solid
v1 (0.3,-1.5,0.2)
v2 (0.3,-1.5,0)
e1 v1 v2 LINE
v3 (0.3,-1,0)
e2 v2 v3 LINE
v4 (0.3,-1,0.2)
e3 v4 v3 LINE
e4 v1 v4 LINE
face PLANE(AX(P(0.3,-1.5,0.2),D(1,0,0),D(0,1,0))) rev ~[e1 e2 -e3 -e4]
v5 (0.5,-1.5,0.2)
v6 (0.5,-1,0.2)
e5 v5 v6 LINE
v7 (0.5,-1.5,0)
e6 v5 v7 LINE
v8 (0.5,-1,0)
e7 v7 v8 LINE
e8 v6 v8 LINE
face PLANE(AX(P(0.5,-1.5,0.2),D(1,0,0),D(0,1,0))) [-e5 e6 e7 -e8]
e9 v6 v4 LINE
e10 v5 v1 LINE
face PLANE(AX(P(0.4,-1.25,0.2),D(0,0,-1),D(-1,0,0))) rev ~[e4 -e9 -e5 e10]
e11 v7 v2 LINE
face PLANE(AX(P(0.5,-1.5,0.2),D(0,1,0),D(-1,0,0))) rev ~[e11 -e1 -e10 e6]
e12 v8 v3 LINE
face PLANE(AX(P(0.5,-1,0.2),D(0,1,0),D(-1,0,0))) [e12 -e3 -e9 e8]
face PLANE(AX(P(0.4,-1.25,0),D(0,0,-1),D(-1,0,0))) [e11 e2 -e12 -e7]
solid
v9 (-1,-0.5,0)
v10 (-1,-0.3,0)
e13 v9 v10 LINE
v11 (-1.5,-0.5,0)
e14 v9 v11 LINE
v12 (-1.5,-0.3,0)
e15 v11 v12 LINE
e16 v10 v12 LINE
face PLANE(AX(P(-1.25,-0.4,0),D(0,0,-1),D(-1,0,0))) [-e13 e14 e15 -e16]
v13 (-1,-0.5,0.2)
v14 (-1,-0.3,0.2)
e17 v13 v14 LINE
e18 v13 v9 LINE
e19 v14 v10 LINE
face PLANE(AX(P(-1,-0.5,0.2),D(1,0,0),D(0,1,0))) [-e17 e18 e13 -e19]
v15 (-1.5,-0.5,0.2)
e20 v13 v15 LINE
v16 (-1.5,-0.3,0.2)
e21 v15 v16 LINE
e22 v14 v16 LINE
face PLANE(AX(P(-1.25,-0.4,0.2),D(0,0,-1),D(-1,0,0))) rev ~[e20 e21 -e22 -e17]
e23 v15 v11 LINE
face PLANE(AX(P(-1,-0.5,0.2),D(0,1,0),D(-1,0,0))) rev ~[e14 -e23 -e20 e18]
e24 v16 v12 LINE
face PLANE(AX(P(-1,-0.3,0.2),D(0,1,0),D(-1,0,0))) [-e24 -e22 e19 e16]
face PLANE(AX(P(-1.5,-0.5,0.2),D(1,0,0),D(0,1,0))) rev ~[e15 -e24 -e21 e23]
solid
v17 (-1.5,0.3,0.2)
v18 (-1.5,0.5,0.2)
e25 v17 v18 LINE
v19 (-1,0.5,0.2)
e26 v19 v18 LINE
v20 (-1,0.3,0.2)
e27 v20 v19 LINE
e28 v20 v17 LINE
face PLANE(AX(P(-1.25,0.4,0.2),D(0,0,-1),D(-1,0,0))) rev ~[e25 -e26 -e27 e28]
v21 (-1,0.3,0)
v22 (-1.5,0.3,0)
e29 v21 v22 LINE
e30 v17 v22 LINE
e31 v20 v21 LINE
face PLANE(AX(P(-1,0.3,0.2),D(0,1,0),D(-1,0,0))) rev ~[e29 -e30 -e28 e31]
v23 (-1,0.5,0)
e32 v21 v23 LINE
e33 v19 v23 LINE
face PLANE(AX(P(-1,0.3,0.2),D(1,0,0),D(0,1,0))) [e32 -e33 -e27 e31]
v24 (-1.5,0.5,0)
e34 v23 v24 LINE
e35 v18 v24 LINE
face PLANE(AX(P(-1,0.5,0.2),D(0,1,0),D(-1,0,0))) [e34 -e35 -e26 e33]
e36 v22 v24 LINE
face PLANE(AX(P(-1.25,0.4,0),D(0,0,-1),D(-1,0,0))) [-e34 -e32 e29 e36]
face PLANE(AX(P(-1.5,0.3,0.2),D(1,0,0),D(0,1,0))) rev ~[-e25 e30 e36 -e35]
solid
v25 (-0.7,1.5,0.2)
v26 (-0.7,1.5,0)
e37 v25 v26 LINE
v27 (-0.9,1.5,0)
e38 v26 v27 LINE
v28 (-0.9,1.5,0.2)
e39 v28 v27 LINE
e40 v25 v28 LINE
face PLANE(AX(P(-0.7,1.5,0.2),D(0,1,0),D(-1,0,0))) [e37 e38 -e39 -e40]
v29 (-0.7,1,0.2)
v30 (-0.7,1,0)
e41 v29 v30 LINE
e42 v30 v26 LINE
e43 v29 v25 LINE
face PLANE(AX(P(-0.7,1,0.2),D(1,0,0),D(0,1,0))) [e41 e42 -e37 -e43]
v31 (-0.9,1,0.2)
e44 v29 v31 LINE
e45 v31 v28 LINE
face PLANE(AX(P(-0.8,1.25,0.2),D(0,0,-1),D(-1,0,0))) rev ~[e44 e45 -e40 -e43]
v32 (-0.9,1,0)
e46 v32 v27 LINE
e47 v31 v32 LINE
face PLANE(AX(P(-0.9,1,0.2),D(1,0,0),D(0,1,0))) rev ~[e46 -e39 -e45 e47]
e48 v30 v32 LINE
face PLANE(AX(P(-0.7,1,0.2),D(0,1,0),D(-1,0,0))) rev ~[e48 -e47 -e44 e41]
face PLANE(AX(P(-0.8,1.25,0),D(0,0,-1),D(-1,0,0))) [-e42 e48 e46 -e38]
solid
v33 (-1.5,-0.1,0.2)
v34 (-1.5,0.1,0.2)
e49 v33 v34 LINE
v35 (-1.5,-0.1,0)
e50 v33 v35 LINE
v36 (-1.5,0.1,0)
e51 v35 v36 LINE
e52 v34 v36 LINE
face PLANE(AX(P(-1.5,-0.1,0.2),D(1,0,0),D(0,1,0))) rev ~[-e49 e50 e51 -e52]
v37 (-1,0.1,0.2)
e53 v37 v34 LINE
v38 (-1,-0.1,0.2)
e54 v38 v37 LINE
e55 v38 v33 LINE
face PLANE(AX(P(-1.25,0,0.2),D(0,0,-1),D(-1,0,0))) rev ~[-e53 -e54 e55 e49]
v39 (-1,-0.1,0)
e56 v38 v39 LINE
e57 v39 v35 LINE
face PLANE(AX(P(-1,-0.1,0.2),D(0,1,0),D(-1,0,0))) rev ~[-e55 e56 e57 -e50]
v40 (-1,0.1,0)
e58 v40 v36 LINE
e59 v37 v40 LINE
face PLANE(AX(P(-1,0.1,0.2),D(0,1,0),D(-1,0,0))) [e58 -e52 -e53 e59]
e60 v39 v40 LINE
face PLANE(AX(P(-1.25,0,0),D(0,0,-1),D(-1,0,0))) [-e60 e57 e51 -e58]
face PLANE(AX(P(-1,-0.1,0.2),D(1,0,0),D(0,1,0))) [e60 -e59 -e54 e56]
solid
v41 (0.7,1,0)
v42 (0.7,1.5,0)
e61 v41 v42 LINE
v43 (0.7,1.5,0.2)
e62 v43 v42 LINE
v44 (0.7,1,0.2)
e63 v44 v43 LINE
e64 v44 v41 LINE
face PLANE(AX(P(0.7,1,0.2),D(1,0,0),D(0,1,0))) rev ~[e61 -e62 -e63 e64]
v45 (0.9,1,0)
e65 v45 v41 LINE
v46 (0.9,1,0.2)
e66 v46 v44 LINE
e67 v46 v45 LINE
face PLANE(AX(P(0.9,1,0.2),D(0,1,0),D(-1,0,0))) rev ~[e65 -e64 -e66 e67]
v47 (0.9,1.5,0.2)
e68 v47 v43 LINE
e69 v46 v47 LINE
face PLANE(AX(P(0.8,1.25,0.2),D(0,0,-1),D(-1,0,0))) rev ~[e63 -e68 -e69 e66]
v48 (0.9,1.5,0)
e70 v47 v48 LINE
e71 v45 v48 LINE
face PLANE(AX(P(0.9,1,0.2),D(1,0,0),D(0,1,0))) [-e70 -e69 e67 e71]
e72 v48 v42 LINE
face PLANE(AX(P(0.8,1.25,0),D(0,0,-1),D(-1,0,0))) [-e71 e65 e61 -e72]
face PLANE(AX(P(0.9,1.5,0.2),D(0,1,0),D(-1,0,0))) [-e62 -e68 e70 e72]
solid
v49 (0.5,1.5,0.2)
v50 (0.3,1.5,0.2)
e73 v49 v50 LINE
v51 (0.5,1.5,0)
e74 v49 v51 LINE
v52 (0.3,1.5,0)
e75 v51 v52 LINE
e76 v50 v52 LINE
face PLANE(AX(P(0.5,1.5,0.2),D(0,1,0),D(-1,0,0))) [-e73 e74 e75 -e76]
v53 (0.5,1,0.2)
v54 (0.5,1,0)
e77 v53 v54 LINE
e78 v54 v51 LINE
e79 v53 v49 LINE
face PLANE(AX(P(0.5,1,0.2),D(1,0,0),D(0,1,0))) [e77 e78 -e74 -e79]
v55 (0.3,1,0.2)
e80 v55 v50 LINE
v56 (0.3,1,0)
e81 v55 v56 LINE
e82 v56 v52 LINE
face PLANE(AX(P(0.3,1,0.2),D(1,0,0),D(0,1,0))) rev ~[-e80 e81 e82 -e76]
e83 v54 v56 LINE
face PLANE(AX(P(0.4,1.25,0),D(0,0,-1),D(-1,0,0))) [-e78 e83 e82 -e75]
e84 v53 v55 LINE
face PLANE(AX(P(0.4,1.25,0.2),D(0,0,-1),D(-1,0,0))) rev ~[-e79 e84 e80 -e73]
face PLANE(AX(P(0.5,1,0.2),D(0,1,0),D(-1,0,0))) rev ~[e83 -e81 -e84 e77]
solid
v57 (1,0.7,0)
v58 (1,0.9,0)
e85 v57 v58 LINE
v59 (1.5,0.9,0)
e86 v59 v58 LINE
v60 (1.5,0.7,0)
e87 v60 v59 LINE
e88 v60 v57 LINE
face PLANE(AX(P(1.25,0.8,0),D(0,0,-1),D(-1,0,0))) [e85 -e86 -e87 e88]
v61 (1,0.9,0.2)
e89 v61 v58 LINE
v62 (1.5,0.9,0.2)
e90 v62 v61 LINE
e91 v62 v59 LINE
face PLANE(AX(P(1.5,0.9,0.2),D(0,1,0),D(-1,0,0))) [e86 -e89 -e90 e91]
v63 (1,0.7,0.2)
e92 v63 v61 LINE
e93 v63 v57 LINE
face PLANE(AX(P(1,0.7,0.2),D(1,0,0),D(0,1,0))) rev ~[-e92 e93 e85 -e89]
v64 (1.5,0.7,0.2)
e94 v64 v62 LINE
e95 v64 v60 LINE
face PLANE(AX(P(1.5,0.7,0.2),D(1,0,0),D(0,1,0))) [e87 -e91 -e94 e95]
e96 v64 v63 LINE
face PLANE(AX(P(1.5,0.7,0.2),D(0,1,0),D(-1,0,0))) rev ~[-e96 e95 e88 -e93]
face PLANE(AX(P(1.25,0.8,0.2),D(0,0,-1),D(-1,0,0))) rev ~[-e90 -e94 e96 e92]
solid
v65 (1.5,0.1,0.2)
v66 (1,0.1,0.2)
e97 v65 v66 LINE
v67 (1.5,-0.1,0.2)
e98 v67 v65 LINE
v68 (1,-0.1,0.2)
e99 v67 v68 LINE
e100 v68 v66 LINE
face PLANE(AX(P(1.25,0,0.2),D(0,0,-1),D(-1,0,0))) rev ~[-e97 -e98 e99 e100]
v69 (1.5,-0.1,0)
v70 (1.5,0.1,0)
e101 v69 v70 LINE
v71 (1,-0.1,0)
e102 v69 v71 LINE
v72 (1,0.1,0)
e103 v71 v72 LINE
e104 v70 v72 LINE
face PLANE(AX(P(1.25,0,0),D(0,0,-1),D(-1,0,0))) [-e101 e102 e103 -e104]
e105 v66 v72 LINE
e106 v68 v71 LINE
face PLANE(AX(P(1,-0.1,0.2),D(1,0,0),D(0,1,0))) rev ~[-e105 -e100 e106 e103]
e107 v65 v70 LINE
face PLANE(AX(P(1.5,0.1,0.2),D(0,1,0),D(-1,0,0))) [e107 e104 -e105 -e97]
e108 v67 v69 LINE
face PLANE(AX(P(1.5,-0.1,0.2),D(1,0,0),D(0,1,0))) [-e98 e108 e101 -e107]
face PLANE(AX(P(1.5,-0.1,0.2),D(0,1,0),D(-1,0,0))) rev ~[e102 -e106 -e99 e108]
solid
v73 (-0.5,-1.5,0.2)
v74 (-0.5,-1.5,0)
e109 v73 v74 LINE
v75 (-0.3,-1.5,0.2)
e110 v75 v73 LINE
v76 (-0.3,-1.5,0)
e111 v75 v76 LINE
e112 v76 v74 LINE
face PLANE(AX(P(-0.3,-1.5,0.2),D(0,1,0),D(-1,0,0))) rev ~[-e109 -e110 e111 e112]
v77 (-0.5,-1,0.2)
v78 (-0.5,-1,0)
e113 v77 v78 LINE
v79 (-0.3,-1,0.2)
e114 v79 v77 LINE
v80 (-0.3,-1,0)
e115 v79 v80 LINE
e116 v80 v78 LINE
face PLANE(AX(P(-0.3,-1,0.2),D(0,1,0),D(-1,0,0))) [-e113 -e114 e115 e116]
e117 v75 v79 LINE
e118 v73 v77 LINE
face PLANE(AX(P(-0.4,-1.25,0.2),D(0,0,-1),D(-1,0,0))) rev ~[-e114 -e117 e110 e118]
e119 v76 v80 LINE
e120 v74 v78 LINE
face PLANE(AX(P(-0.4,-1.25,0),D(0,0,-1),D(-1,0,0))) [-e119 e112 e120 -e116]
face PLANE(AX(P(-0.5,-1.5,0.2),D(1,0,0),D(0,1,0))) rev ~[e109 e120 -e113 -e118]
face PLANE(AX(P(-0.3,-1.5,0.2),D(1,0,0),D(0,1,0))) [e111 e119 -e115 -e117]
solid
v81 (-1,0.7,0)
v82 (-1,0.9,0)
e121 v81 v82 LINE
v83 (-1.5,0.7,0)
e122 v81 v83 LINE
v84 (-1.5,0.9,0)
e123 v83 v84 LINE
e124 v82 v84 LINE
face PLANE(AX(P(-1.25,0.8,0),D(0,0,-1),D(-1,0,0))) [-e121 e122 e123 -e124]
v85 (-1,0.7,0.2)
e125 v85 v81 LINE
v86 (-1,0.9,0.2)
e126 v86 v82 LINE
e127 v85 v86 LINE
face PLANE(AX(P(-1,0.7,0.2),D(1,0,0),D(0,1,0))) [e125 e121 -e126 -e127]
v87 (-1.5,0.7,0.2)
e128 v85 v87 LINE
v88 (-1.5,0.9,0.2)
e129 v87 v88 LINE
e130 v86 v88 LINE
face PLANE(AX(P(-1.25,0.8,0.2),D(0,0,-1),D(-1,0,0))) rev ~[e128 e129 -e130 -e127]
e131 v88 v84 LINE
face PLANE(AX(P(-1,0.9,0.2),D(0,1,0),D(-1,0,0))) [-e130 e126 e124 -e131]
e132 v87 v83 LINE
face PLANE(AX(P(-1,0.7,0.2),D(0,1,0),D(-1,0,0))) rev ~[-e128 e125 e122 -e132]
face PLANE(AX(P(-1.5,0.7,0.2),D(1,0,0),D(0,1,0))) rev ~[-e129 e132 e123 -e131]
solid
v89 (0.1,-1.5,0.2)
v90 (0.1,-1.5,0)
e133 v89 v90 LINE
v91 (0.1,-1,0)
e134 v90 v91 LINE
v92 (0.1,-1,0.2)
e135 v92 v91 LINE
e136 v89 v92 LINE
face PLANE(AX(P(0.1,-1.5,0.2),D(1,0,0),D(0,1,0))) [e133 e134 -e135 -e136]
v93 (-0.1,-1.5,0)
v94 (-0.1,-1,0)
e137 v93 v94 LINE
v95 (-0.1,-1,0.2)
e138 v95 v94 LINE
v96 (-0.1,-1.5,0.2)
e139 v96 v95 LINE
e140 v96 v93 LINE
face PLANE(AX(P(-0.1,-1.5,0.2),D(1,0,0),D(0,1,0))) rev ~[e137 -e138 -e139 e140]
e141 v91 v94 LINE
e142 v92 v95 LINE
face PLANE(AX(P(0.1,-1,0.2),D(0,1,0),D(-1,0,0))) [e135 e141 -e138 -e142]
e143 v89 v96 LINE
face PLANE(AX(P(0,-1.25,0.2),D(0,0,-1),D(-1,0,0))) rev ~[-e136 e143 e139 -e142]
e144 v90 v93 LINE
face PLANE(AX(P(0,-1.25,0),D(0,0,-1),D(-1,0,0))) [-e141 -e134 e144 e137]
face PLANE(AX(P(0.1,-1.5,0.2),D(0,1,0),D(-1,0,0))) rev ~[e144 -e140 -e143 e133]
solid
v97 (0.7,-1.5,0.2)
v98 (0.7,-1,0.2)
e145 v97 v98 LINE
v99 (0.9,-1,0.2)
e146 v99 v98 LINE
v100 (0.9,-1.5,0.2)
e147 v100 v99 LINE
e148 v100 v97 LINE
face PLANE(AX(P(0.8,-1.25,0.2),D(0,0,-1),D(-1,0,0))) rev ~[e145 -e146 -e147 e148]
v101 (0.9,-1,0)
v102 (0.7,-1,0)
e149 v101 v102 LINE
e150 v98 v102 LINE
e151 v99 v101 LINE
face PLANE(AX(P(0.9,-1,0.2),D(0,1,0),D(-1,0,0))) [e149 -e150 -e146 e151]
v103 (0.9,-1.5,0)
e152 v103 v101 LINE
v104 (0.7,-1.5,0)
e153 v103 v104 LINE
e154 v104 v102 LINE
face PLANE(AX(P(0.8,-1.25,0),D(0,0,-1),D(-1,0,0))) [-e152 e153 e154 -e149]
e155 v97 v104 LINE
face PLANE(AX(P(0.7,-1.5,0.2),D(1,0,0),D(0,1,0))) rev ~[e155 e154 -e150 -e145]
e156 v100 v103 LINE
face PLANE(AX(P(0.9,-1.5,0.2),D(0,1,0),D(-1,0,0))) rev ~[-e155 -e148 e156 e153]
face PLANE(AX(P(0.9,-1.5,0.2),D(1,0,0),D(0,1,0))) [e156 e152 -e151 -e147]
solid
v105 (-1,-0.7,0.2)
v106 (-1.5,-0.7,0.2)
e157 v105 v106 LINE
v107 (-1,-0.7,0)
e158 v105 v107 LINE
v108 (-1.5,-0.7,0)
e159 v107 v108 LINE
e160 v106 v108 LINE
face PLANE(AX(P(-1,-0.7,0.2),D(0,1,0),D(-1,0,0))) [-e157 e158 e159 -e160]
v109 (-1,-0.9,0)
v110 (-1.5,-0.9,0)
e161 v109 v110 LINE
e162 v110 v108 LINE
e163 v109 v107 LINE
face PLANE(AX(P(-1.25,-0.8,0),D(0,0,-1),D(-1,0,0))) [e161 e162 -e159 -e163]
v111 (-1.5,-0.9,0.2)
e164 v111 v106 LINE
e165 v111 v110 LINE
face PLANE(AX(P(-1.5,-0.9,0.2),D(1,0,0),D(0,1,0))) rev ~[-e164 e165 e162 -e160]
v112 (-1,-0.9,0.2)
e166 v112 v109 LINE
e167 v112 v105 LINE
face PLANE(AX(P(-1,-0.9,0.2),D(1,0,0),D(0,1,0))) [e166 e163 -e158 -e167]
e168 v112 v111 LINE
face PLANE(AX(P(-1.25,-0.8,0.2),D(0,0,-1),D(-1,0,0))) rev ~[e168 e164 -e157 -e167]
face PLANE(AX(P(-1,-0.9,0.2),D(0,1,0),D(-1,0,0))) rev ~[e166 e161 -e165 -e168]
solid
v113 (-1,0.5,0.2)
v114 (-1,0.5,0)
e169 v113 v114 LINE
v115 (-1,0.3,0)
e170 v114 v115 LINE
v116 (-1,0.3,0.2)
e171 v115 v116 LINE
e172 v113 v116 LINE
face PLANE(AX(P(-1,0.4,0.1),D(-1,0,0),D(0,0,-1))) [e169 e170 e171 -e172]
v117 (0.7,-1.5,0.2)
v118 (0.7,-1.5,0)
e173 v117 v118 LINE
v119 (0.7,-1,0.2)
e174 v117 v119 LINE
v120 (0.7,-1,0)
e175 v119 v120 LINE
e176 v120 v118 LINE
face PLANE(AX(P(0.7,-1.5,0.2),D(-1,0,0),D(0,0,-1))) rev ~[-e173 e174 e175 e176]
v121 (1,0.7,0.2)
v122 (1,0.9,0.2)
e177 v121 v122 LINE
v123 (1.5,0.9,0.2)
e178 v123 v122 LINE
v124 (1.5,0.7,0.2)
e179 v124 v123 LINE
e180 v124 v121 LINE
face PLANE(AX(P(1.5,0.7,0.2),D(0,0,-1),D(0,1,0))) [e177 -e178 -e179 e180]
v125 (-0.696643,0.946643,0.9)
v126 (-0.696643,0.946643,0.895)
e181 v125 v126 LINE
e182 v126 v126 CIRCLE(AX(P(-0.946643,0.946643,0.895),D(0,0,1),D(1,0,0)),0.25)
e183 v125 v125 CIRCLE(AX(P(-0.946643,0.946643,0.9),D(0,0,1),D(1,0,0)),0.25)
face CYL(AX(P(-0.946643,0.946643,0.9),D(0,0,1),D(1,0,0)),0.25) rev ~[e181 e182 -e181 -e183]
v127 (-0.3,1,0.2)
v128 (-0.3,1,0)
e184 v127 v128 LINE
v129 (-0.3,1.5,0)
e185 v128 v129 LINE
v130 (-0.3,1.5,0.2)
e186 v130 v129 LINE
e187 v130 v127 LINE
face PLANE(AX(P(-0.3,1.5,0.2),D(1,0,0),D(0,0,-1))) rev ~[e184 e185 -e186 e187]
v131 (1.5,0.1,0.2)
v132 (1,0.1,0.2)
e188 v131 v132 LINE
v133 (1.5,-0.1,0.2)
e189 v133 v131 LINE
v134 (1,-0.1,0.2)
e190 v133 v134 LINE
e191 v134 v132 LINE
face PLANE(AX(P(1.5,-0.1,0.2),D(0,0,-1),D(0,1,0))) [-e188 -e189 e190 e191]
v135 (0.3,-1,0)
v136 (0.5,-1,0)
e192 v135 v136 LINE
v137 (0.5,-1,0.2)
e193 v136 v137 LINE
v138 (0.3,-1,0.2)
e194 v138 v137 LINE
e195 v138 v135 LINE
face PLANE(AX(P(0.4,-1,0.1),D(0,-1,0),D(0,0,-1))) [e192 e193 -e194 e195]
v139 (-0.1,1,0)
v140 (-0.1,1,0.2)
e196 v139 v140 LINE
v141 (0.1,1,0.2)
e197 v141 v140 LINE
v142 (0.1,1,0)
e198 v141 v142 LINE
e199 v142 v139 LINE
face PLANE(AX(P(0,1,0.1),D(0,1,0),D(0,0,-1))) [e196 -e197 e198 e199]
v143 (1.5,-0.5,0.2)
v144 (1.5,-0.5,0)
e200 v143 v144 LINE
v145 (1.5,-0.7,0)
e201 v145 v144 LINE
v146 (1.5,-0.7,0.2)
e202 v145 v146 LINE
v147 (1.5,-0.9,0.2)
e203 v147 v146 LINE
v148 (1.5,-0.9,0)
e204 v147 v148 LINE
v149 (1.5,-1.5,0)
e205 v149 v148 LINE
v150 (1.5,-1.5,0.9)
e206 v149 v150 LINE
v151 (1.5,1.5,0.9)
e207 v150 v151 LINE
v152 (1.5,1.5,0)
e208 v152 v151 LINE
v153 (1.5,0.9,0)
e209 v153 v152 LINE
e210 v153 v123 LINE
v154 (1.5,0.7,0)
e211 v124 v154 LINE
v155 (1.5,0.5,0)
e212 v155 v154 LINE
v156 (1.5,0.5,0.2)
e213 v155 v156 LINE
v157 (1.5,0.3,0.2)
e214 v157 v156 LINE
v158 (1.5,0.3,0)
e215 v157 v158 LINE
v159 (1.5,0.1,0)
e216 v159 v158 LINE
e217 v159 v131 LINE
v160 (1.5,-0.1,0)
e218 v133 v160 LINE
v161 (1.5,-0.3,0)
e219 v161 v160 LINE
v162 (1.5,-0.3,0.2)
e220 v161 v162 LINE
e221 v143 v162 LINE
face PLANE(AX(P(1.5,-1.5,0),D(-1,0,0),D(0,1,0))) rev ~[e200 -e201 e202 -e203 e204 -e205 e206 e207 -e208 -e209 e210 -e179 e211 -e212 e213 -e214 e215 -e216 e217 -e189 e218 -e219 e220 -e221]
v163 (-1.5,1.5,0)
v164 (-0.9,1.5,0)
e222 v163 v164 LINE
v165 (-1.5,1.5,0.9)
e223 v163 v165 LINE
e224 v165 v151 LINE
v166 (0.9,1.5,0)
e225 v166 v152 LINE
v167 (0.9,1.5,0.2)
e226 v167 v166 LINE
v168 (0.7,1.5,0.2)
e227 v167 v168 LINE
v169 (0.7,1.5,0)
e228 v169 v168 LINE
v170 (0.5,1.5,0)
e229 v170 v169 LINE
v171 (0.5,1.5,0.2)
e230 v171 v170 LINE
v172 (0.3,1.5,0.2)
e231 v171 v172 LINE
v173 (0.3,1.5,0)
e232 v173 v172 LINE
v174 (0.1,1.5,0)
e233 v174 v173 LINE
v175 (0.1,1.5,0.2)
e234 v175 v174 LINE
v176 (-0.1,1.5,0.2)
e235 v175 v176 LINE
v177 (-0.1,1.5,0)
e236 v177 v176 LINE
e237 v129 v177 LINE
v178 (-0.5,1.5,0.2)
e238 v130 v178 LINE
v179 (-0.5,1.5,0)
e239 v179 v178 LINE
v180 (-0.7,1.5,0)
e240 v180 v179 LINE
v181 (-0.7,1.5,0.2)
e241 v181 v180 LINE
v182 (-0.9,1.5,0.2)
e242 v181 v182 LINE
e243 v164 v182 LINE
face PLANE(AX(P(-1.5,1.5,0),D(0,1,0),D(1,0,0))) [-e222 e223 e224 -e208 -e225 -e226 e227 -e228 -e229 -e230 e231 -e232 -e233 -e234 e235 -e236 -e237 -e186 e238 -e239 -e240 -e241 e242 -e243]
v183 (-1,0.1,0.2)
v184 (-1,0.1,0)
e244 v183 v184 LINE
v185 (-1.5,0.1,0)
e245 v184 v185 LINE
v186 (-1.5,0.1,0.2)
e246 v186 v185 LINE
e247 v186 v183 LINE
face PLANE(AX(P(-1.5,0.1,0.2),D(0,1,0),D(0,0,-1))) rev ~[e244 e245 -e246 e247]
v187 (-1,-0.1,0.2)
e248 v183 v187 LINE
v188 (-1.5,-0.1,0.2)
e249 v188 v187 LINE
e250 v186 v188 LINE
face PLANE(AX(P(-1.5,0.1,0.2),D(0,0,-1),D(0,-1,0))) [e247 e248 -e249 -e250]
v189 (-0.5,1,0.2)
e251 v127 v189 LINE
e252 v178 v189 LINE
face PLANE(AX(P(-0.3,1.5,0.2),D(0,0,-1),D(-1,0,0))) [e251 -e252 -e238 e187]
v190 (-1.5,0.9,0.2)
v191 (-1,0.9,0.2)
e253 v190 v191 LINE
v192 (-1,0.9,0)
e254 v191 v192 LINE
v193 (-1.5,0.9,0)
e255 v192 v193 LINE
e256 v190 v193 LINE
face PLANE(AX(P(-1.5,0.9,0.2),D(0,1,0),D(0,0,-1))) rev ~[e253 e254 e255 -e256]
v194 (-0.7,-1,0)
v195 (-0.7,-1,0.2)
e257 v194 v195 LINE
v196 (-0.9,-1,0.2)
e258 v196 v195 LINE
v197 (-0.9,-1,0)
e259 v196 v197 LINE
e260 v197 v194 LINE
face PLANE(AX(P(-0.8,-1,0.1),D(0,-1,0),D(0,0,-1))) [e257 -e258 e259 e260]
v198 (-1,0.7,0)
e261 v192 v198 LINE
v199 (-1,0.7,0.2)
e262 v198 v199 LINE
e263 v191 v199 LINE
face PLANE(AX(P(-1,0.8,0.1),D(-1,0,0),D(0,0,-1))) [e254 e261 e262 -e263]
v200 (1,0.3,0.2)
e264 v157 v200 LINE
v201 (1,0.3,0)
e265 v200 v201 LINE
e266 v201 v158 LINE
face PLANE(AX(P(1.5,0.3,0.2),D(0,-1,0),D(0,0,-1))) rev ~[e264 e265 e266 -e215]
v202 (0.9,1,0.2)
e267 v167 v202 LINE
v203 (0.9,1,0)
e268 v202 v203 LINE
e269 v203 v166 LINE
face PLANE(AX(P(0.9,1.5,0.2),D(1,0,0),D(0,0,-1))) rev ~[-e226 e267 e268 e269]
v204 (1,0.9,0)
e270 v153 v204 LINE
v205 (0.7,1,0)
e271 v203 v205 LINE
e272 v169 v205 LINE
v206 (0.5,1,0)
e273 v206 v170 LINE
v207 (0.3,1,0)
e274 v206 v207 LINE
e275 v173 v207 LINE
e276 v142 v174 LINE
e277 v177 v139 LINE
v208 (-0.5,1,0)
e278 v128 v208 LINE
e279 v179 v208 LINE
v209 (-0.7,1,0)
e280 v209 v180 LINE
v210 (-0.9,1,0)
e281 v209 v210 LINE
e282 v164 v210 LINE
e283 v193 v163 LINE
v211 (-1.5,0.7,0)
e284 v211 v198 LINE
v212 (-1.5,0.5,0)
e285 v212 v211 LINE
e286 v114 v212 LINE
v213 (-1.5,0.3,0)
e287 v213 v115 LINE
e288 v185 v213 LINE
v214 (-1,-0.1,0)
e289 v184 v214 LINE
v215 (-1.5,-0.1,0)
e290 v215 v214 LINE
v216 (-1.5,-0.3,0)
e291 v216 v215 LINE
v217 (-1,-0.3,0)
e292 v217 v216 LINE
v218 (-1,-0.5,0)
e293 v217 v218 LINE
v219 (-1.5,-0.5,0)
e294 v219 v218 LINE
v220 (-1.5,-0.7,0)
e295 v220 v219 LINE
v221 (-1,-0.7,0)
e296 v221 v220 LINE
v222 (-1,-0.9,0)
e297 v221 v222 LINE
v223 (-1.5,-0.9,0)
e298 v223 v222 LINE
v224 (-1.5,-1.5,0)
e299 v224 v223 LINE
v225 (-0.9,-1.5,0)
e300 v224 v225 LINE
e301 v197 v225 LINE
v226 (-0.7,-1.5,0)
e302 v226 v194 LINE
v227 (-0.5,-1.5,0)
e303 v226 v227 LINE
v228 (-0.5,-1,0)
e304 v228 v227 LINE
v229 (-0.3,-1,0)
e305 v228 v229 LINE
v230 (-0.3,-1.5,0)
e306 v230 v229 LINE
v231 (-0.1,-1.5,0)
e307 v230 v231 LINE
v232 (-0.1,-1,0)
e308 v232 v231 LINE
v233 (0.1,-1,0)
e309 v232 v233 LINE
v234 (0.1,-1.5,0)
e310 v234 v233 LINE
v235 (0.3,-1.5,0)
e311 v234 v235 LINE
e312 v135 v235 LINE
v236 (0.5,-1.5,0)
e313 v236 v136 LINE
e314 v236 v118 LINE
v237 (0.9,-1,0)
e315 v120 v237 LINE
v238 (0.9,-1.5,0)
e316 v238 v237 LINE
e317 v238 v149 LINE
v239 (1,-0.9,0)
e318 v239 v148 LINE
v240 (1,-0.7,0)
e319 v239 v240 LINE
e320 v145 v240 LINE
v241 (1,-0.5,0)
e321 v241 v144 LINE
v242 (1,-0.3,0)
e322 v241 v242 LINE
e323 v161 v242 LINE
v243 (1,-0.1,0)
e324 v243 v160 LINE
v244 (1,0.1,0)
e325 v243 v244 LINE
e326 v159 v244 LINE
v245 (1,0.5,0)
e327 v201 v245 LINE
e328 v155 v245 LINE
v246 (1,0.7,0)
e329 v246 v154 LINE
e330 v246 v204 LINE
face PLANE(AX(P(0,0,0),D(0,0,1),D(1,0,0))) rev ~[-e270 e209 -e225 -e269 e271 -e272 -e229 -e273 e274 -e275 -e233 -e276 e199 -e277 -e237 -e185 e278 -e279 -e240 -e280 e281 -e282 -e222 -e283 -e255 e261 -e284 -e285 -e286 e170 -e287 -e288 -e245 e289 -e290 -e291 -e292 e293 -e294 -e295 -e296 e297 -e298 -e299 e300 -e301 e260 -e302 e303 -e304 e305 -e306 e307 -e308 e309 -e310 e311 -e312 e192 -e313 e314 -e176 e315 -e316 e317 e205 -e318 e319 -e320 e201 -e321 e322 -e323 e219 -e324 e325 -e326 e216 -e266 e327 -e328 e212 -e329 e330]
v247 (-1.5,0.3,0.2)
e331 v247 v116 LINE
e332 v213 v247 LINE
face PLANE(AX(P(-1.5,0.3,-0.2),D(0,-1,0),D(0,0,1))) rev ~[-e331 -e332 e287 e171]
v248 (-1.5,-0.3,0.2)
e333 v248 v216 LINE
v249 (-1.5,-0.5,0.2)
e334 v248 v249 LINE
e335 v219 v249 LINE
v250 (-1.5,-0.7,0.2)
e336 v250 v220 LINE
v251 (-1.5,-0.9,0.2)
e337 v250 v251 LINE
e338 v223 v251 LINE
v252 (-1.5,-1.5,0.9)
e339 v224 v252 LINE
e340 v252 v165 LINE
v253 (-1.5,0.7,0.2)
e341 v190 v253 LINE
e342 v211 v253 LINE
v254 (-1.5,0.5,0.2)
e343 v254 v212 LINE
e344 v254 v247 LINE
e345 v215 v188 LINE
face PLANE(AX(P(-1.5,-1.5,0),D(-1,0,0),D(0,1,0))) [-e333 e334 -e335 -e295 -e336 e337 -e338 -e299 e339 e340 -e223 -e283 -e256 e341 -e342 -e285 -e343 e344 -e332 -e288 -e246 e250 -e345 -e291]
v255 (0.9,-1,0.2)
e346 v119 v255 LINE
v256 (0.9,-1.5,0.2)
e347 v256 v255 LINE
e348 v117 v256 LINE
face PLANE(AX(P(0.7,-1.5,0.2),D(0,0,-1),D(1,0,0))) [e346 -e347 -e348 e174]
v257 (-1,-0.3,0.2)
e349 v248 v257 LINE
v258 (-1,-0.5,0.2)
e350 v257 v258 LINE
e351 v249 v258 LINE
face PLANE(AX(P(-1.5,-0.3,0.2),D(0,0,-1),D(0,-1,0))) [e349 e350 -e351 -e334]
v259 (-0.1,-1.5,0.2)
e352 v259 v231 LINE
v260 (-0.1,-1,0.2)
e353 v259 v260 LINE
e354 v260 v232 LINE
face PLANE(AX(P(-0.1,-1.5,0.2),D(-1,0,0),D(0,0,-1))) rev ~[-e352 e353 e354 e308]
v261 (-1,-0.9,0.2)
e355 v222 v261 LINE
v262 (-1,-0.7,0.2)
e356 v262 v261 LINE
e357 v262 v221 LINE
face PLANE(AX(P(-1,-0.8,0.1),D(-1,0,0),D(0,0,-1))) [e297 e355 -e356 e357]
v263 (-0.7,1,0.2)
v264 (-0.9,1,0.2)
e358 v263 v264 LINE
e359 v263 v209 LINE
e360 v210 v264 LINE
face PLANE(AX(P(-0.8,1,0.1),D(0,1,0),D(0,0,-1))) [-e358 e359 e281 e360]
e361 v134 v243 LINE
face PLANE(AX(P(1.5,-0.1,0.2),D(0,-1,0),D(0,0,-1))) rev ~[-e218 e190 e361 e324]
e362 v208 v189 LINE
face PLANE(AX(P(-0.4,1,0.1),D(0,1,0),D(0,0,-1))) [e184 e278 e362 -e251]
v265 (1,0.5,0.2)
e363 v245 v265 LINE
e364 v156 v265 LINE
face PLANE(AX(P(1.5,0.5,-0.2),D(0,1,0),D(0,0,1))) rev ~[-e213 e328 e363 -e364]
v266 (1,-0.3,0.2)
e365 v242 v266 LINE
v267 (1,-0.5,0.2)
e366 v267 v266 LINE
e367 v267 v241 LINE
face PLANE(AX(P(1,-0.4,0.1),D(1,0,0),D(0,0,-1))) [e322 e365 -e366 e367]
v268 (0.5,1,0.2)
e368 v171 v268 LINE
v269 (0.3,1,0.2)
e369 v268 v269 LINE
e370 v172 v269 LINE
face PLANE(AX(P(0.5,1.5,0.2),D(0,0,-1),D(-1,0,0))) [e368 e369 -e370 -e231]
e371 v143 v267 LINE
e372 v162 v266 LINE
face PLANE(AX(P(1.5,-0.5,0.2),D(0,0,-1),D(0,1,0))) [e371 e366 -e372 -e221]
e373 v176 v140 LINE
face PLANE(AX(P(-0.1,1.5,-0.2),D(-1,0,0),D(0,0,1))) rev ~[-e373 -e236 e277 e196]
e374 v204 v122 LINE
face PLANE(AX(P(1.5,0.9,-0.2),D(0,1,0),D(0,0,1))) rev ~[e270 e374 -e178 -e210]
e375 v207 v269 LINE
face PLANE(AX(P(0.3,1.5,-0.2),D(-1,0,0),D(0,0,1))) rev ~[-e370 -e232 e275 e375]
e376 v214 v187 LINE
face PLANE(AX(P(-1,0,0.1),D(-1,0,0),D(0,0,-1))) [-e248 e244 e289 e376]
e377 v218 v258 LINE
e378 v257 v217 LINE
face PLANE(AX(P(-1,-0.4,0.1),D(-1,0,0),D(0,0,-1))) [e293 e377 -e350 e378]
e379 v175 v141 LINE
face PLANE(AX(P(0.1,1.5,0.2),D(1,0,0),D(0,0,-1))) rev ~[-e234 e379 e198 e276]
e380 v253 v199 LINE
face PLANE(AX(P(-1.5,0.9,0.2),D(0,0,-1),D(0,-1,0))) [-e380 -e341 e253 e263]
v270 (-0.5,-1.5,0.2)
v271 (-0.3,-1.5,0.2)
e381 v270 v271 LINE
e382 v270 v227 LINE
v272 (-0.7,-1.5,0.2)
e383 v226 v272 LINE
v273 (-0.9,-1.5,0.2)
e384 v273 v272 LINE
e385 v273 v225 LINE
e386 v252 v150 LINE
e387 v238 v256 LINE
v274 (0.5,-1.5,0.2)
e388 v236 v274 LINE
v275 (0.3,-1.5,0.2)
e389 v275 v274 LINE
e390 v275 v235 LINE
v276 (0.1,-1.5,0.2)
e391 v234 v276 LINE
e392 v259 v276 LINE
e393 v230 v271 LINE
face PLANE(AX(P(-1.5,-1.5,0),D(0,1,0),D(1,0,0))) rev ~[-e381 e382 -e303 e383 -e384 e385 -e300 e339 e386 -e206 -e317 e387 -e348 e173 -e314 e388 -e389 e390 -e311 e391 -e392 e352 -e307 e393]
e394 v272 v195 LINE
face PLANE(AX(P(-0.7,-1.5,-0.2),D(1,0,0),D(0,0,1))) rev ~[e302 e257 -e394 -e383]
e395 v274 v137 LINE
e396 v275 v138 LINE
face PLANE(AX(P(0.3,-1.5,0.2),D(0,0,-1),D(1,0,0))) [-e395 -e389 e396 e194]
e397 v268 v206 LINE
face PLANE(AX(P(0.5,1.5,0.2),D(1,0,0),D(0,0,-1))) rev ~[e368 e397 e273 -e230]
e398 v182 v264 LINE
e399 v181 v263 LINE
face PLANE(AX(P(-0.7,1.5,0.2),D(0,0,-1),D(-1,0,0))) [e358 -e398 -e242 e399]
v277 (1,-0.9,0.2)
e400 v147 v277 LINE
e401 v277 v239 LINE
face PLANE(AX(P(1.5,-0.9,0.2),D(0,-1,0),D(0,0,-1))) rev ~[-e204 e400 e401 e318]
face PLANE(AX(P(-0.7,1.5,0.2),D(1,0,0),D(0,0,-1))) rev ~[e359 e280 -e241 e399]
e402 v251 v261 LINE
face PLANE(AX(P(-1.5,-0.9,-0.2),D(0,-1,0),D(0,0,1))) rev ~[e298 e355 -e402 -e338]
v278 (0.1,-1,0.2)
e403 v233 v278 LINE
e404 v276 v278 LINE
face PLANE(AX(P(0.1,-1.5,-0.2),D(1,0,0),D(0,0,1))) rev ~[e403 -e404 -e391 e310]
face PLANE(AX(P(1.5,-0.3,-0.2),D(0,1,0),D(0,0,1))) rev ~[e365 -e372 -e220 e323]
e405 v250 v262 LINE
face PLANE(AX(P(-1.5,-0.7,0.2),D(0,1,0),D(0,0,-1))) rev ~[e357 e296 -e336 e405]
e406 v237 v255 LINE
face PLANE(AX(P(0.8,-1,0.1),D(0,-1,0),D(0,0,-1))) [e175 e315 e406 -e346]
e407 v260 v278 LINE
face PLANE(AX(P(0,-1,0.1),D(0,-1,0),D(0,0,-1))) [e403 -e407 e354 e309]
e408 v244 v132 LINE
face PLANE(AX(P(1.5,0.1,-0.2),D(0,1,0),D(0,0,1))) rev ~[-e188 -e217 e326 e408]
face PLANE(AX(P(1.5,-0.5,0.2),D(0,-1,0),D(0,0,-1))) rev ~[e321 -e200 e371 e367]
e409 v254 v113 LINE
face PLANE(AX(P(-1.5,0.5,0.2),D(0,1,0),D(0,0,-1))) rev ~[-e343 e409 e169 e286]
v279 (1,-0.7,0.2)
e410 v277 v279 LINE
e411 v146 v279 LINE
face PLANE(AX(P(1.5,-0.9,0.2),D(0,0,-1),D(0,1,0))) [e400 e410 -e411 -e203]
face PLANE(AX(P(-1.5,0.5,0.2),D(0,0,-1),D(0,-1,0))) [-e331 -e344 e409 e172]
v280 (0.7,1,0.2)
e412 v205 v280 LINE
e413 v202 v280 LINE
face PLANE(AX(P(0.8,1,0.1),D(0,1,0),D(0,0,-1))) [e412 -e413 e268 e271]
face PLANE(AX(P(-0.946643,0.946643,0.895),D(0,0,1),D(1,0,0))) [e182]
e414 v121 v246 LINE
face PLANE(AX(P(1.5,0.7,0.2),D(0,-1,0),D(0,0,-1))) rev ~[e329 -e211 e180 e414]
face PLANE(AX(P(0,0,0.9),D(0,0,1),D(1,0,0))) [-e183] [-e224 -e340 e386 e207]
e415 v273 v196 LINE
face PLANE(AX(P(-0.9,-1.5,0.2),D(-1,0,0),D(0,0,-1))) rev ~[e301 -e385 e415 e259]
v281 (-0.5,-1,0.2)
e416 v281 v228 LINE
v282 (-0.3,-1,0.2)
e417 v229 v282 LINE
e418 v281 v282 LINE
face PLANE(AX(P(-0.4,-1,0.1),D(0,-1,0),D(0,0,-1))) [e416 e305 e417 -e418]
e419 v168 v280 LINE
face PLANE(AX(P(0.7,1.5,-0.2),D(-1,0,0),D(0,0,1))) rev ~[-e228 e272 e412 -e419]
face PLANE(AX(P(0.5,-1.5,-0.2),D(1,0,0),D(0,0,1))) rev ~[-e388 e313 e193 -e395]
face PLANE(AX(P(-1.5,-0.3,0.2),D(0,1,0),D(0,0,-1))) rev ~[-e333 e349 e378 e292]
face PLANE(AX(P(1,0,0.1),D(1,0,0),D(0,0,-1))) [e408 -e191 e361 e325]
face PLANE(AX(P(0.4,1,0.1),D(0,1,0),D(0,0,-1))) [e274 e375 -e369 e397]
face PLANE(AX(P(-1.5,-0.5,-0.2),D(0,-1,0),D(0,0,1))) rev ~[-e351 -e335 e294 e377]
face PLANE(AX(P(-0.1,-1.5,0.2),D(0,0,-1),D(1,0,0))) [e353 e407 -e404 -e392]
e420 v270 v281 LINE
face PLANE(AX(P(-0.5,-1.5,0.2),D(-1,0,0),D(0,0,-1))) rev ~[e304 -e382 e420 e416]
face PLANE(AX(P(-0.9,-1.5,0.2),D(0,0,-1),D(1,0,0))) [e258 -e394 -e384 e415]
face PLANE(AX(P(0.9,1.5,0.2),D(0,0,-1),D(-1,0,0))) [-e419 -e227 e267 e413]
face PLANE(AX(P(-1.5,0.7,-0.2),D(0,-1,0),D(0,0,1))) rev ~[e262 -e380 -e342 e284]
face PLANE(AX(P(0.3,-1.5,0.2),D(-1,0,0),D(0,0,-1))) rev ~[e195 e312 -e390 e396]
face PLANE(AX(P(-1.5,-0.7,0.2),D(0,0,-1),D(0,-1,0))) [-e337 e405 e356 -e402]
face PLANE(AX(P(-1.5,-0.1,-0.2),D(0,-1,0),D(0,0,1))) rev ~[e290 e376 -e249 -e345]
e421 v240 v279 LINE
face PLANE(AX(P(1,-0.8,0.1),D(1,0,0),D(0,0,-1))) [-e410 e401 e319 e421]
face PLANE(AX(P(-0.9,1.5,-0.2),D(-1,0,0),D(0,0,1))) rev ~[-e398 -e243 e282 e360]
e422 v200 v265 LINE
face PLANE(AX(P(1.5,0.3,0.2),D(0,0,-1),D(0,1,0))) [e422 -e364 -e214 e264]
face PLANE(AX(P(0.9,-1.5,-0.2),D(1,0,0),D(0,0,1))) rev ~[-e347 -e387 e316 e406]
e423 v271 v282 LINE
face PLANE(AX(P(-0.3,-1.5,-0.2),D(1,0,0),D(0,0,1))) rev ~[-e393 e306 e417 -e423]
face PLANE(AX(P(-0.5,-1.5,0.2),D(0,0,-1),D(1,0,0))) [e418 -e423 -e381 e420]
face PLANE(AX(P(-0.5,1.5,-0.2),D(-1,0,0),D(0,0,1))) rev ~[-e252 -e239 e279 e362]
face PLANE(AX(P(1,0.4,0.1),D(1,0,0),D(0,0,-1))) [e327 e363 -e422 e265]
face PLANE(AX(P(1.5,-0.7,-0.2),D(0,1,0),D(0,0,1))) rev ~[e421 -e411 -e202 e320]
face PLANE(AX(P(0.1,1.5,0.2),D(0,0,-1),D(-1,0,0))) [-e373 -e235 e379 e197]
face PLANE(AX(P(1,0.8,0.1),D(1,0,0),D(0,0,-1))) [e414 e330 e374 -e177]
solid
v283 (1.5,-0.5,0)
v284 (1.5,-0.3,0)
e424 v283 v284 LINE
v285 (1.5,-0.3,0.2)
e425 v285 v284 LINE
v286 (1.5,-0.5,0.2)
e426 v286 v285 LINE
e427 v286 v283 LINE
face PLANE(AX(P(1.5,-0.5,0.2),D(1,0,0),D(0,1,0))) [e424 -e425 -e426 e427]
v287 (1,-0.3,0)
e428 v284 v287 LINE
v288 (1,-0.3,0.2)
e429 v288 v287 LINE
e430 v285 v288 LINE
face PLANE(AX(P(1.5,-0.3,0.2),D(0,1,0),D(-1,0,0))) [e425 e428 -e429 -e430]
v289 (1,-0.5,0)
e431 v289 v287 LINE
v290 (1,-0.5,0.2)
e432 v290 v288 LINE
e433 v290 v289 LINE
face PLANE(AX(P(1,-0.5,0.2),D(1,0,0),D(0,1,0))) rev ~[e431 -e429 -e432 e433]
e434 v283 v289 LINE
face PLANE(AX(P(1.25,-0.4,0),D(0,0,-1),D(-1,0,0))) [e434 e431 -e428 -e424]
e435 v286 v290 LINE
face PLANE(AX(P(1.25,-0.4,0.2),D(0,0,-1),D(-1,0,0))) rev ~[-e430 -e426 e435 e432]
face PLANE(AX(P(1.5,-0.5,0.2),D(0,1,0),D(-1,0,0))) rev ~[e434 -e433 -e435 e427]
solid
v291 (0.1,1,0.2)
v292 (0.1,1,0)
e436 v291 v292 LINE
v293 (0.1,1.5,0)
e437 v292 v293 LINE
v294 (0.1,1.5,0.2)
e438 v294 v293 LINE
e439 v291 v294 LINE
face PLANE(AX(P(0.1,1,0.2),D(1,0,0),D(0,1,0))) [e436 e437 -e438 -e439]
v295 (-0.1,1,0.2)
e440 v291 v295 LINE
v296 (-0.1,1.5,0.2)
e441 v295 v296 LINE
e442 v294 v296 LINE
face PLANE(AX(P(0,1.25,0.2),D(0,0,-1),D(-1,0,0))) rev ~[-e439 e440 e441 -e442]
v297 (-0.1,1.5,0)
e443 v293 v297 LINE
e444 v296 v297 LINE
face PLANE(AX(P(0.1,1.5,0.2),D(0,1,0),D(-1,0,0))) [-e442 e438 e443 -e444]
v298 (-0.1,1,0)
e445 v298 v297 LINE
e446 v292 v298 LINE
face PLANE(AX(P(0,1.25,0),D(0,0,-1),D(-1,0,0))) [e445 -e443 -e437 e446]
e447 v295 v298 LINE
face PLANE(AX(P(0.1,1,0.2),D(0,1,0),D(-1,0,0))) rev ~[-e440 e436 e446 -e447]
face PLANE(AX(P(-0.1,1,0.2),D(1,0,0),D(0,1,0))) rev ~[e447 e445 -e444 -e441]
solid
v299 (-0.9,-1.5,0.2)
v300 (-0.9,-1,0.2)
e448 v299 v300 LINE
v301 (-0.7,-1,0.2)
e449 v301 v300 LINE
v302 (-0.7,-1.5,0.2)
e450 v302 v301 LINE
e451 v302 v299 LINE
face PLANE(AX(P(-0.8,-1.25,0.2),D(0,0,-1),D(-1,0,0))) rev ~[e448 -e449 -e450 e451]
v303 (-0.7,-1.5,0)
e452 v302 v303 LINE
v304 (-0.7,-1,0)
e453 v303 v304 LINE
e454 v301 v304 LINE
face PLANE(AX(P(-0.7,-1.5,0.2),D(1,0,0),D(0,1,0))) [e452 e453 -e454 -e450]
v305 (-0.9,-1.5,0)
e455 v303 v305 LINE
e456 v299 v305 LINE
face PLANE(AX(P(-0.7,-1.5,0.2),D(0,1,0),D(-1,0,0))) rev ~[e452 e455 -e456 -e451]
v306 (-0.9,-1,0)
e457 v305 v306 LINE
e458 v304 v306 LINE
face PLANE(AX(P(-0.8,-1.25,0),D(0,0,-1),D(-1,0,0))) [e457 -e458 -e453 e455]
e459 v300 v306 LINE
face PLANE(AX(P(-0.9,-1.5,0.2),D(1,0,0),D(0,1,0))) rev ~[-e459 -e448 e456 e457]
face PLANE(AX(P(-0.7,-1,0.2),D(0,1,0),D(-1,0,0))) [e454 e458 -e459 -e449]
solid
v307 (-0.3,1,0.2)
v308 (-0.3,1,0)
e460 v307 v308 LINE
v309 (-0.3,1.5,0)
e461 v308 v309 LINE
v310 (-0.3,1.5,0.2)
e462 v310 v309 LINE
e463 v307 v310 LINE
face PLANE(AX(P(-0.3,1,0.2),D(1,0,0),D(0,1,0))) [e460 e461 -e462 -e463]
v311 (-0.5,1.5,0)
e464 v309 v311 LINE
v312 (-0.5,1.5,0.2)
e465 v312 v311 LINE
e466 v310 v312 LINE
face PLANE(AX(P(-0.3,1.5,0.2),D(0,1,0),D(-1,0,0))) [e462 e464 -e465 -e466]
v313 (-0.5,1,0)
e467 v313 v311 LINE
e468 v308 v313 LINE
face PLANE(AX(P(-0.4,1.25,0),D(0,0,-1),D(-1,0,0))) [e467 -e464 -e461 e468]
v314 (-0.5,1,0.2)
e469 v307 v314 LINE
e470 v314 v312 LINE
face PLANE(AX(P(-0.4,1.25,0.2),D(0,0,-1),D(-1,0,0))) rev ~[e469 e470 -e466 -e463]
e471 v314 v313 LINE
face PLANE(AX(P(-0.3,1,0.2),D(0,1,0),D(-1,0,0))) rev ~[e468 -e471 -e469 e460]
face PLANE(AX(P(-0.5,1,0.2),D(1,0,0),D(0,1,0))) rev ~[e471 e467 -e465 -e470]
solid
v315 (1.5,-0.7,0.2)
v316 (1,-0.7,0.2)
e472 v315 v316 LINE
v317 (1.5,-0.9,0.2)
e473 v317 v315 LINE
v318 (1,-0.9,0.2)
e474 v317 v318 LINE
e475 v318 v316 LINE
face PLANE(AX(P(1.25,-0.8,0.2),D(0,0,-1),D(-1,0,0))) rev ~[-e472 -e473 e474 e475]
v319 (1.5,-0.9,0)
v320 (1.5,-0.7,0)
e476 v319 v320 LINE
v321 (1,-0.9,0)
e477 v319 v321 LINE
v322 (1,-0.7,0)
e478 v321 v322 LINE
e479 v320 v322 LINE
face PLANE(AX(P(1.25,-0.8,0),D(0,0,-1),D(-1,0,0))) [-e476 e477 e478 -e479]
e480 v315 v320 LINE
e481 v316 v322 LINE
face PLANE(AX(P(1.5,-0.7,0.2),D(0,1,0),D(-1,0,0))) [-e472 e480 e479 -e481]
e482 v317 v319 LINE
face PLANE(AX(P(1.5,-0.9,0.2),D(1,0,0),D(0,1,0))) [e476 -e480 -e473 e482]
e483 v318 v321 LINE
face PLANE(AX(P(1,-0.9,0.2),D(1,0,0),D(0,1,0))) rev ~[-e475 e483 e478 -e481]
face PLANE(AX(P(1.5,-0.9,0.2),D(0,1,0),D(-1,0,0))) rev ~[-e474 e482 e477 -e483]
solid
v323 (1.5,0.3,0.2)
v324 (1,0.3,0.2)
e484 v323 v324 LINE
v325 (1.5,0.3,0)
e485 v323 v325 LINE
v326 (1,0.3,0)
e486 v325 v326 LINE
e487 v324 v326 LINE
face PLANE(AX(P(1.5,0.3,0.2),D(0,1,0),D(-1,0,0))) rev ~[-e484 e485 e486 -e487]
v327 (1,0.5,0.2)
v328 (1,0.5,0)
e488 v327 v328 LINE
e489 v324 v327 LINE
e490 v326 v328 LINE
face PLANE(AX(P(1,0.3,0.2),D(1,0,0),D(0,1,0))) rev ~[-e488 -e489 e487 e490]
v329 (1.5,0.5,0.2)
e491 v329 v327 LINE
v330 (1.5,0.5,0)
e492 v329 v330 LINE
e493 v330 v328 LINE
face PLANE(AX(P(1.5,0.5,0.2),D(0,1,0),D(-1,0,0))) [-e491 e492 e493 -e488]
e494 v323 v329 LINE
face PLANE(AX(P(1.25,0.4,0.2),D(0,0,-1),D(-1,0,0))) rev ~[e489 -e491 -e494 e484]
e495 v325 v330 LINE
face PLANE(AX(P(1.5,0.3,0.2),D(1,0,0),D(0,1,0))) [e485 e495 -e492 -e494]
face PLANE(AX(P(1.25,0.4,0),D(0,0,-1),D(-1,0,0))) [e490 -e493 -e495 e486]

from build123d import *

# Parameters (mm, degrees)
SKETCH1_W              = 3
SKETCH1_H              = 3
BOSS_EXTRUDE1_DEPTH    = 0.9
SKETCH2_W              = 0.2
SKETCH2_H              = 0.2
CUT_EXTRUDE1_DEPTH     = 0.5
CIRPATTERN1_COUNT      = 4
SKETCH4_R              = 0.25
CUT_EXTRUDE2_DEPTH     = 0.005
SKETCH5_W              = 0.5
SKETCH5_H              = 0.2
BOSS_EXTRUDE2_DEPTH    = 0.2
BOSS_EXTRUDE2_2_DEPTH  = 0.2
BOSS_EXTRUDE2_3_DEPTH  = 0.2
BOSS_EXTRUDE2_4_DEPTH  = 0.2
BOSS_EXTRUDE2_5_DEPTH  = 0.2
SKETCH5_W_2            = 0.2
SKETCH5_H_2            = 0.5
BOSS_EXTRUDE2_6_DEPTH  = 0.2
BOSS_EXTRUDE2_7_DEPTH  = 0.2
BOSS_EXTRUDE2_8_DEPTH  = 0.2
BOSS_EXTRUDE2_9_DEPTH  = 0.2
BOSS_EXTRUDE2_10_DEPTH = 0.2
BOSS_EXTRUDE2_11_DEPTH = 0.2
BOSS_EXTRUDE2_12_DEPTH = 0.2
BOSS_EXTRUDE2_13_DEPTH = 0.2
BOSS_EXTRUDE2_14_DEPTH = 0.2
BOSS_EXTRUDE2_15_DEPTH = 0.2
BOSS_EXTRUDE2_16_DEPTH = 0.2
BOSS_EXTRUDE2_17_DEPTH = 0.2
BOSS_EXTRUDE2_18_DEPTH = 0.2
BOSS_EXTRUDE2_19_DEPTH = 0.2
BOSS_EXTRUDE2_20_DEPTH = 0.2


with BuildPart() as part:
    # Sketch1 → Boss-Extrude1 (new body)
    with BuildSketch(Plane.XY):
        Rectangle(SKETCH1_W, SKETCH1_H)
    extrude(amount=BOSS_EXTRUDE1_DEPTH)

    # Sketch2 → Cut-Extrude1 (cut)
    with BuildSketch(Plane(origin=(1.5, 0, 0), x_dir=(0, 0, -1), z_dir=(1, 0, 0))):
        with Locations((-0.1, -0.8)):
            Rectangle(SKETCH2_W, SKETCH2_H)
        with Locations((-0.1, -0.4)):
            Rectangle(SKETCH2_W, SKETCH2_H)
        with Locations((-0.1, 0)):
            Rectangle(SKETCH2_W, SKETCH2_H)
        with Locations((-0.1, 0.4)):
            Rectangle(SKETCH2_W, SKETCH2_H)
        with Locations((-0.1, 0.8)):
            Rectangle(SKETCH2_W, SKETCH2_H)
        with Locations((0.1, 0.8)):
            Rectangle(SKETCH2_W, SKETCH2_H)
        with Locations((0.1, 0.4)):
            Rectangle(SKETCH2_W, SKETCH2_H)
        with Locations((0.1, 0)):
            Rectangle(SKETCH2_W, SKETCH2_H)
        with Locations((0.1, -0.4)):
            Rectangle(SKETCH2_W, SKETCH2_H)
        with Locations((0.1, -0.8)):
            Rectangle(SKETCH2_W, SKETCH2_H)
    cut_extrude1 = extrude(amount=-CUT_EXTRUDE1_DEPTH, mode=Mode.SUBTRACT)

    # CirPattern1: Cut-Extrude1 ×4 about axis
    cirpattern1_axis = Axis((0, 0, 0), (0, 0, 1))
    for i in range(1, CIRPATTERN1_COUNT):
        add(cut_extrude1.rotate(cirpattern1_axis, i * 360 / CIRPATTERN1_COUNT), mode=Mode.SUBTRACT)

    # Sketch4 → Cut-Extrude2 (cut)
    with BuildSketch(Plane.XY.offset(0.9)):
        with Locations((-0.946643178, 0.946643178)):
            Circle(SKETCH4_R)
    extrude(amount=-CUT_EXTRUDE2_DEPTH, mode=Mode.SUBTRACT)


with BuildPart() as body_2:
    # Sketch5 → Boss-Extrude2 (new body)
    with BuildSketch(Plane(origin=(0, 0, 0.2), x_dir=(-1, 0, 0), z_dir=(0, 0, -1))):
        with Locations((-1.25, 0.8)):
            Rectangle(SKETCH5_W, SKETCH5_H)
    extrude(amount=BOSS_EXTRUDE2_DEPTH)


with BuildPart() as body_3:
    # Sketch5 → Boss-Extrude2 2 (new body)
    with BuildSketch(Plane(origin=(0, 0, 0.2), x_dir=(-1, 0, 0), z_dir=(0, 0, -1))):
        with Locations((-1.25, 0.4)):
            Rectangle(SKETCH5_W, SKETCH5_H)
    extrude(amount=BOSS_EXTRUDE2_2_DEPTH)


with BuildPart() as body_4:
    # Sketch5 → Boss-Extrude2 3 (new body)
    with BuildSketch(Plane(origin=(0, 0, 0.2), x_dir=(-1, 0, 0), z_dir=(0, 0, -1))):
        with Locations((-1.25, 0)):
            Rectangle(SKETCH5_W, SKETCH5_H)
    extrude(amount=BOSS_EXTRUDE2_3_DEPTH)


with BuildPart() as body_5:
    # Sketch5 → Boss-Extrude2 4 (new body)
    with BuildSketch(Plane(origin=(0, 0, 0.2), x_dir=(-1, 0, 0), z_dir=(0, 0, -1))):
        with Locations((-1.25, -0.4)):
            Rectangle(SKETCH5_W, SKETCH5_H)
    extrude(amount=BOSS_EXTRUDE2_4_DEPTH)


with BuildPart() as body_6:
    # Sketch5 → Boss-Extrude2 5 (new body)
    with BuildSketch(Plane(origin=(0, 0, 0.2), x_dir=(-1, 0, 0), z_dir=(0, 0, -1))):
        with Locations((-1.25, -0.8)):
            Rectangle(SKETCH5_W, SKETCH5_H)
    extrude(amount=BOSS_EXTRUDE2_5_DEPTH)


with BuildPart() as body_7:
    # Sketch5 → Boss-Extrude2 6 (new body)
    with BuildSketch(Plane(origin=(0, 0, 0.2), x_dir=(-1, 0, 0), z_dir=(0, 0, -1))):
        with Locations((-0.8, -1.25)):
            Rectangle(SKETCH5_W_2, SKETCH5_H_2)
    extrude(amount=BOSS_EXTRUDE2_6_DEPTH)


with BuildPart() as body_8:
    # Sketch5 → Boss-Extrude2 7 (new body)
    with BuildSketch(Plane(origin=(0, 0, 0.2), x_dir=(-1, 0, 0), z_dir=(0, 0, -1))):
        with Locations((-0.4, -1.25)):
            Rectangle(SKETCH5_W_2, SKETCH5_H_2)
    extrude(amount=BOSS_EXTRUDE2_7_DEPTH)


with BuildPart() as body_9:
    # Sketch5 → Boss-Extrude2 8 (new body)
    with BuildSketch(Plane(origin=(0, 0, 0.2), x_dir=(-1, 0, 0), z_dir=(0, 0, -1))):
        with Locations((0, -1.25)):
            Rectangle(SKETCH5_W_2, SKETCH5_H_2)
    extrude(amount=BOSS_EXTRUDE2_8_DEPTH)


with BuildPart() as body_10:
    # Sketch5 → Boss-Extrude2 9 (new body)
    with BuildSketch(Plane(origin=(0, 0, 0.2), x_dir=(-1, 0, 0), z_dir=(0, 0, -1))):
        with Locations((0.4, -1.25)):
            Rectangle(SKETCH5_W_2, SKETCH5_H_2)
    extrude(amount=BOSS_EXTRUDE2_9_DEPTH)


with BuildPart() as body_11:
    # Sketch5 → Boss-Extrude2 10 (new body)
    with BuildSketch(Plane(origin=(0, 0, 0.2), x_dir=(-1, 0, 0), z_dir=(0, 0, -1))):
        with Locations((0.8, -1.25)):
            Rectangle(SKETCH5_W_2, SKETCH5_H_2)
    extrude(amount=BOSS_EXTRUDE2_10_DEPTH)


with BuildPart() as body_12:
    # Sketch5 → Boss-Extrude2 11 (new body)
    with BuildSketch(Plane(origin=(0, 0, 0.2), x_dir=(-1, 0, 0), z_dir=(0, 0, -1))):
        with Locations((1.25, -0.8)):
            Rectangle(SKETCH5_W, SKETCH5_H)
    extrude(amount=BOSS_EXTRUDE2_11_DEPTH)


with BuildPart() as body_13:
    # Sketch5 → Boss-Extrude2 12 (new body)
    with BuildSketch(Plane(origin=(0, 0, 0.2), x_dir=(-1, 0, 0), z_dir=(0, 0, -1))):
        with Locations((1.25, -0.4)):
            Rectangle(SKETCH5_W, SKETCH5_H)
    extrude(amount=BOSS_EXTRUDE2_12_DEPTH)


with BuildPart() as body_14:
    # Sketch5 → Boss-Extrude2 13 (new body)
    with BuildSketch(Plane(origin=(0, 0, 0.2), x_dir=(-1, 0, 0), z_dir=(0, 0, -1))):
        with Locations((1.25, 0)):
            Rectangle(SKETCH5_W, SKETCH5_H)
    extrude(amount=BOSS_EXTRUDE2_13_DEPTH)


with BuildPart() as body_15:
    # Sketch5 → Boss-Extrude2 14 (new body)
    with BuildSketch(Plane(origin=(0, 0, 0.2), x_dir=(-1, 0, 0), z_dir=(0, 0, -1))):
        with Locations((1.25, 0.4)):
            Rectangle(SKETCH5_W, SKETCH5_H)
    extrude(amount=BOSS_EXTRUDE2_14_DEPTH)


with BuildPart() as body_16:
    # Sketch5 → Boss-Extrude2 15 (new body)
    with BuildSketch(Plane(origin=(0, 0, 0.2), x_dir=(-1, 0, 0), z_dir=(0, 0, -1))):
        with Locations((1.25, 0.8)):
            Rectangle(SKETCH5_W, SKETCH5_H)
    extrude(amount=BOSS_EXTRUDE2_15_DEPTH)


with BuildPart() as body_17:
    # Sketch5 → Boss-Extrude2 16 (new body)
    with BuildSketch(Plane(origin=(0, 0, 0.2), x_dir=(-1, 0, 0), z_dir=(0, 0, -1))):
        with Locations((0.8, 1.25)):
            Rectangle(SKETCH5_W_2, SKETCH5_H_2)
    extrude(amount=BOSS_EXTRUDE2_16_DEPTH)


with BuildPart() as body_18:
    # Sketch5 → Boss-Extrude2 17 (new body)
    with BuildSketch(Plane(origin=(0, 0, 0.2), x_dir=(-1, 0, 0), z_dir=(0, 0, -1))):
        with Locations((0.4, 1.25)):
            Rectangle(SKETCH5_W_2, SKETCH5_H_2)
    extrude(amount=BOSS_EXTRUDE2_17_DEPTH)


with BuildPart() as body_19:
    # Sketch5 → Boss-Extrude2 18 (new body)
    with BuildSketch(Plane(origin=(0, 0, 0.2), x_dir=(-1, 0, 0), z_dir=(0, 0, -1))):
        with Locations((0, 1.25)):
            Rectangle(SKETCH5_W_2, SKETCH5_H_2)
    extrude(amount=BOSS_EXTRUDE2_18_DEPTH)


with BuildPart() as body_20:
    # Sketch5 → Boss-Extrude2 19 (new body)
    with BuildSketch(Plane(origin=(0, 0, 0.2), x_dir=(-1, 0, 0), z_dir=(0, 0, -1))):
        with Locations((-0.4, 1.25)):
            Rectangle(SKETCH5_W_2, SKETCH5_H_2)
    extrude(amount=BOSS_EXTRUDE2_19_DEPTH)


with BuildPart() as body_21:
    # Sketch5 → Boss-Extrude2 20 (new body)
    with BuildSketch(Plane(origin=(0, 0, 0.2), x_dir=(-1, 0, 0), z_dir=(0, 0, -1))):
        with Locations((-0.8, 1.25)):
            Rectangle(SKETCH5_W_2, SKETCH5_H_2)
    extrude(amount=BOSS_EXTRUDE2_20_DEPTH)


solid = Compound([part.part, body_2.part, body_3.part, body_4.part, body_5.part, body_6.part, body_7.part, body_8.part, body_9.part, body_10.part, body_11.part, body_12.part, body_13.part, body_14.part, body_15.part, body_16.part, body_17.part, body_18.part, body_19.part, body_20.part, body_21.part])
